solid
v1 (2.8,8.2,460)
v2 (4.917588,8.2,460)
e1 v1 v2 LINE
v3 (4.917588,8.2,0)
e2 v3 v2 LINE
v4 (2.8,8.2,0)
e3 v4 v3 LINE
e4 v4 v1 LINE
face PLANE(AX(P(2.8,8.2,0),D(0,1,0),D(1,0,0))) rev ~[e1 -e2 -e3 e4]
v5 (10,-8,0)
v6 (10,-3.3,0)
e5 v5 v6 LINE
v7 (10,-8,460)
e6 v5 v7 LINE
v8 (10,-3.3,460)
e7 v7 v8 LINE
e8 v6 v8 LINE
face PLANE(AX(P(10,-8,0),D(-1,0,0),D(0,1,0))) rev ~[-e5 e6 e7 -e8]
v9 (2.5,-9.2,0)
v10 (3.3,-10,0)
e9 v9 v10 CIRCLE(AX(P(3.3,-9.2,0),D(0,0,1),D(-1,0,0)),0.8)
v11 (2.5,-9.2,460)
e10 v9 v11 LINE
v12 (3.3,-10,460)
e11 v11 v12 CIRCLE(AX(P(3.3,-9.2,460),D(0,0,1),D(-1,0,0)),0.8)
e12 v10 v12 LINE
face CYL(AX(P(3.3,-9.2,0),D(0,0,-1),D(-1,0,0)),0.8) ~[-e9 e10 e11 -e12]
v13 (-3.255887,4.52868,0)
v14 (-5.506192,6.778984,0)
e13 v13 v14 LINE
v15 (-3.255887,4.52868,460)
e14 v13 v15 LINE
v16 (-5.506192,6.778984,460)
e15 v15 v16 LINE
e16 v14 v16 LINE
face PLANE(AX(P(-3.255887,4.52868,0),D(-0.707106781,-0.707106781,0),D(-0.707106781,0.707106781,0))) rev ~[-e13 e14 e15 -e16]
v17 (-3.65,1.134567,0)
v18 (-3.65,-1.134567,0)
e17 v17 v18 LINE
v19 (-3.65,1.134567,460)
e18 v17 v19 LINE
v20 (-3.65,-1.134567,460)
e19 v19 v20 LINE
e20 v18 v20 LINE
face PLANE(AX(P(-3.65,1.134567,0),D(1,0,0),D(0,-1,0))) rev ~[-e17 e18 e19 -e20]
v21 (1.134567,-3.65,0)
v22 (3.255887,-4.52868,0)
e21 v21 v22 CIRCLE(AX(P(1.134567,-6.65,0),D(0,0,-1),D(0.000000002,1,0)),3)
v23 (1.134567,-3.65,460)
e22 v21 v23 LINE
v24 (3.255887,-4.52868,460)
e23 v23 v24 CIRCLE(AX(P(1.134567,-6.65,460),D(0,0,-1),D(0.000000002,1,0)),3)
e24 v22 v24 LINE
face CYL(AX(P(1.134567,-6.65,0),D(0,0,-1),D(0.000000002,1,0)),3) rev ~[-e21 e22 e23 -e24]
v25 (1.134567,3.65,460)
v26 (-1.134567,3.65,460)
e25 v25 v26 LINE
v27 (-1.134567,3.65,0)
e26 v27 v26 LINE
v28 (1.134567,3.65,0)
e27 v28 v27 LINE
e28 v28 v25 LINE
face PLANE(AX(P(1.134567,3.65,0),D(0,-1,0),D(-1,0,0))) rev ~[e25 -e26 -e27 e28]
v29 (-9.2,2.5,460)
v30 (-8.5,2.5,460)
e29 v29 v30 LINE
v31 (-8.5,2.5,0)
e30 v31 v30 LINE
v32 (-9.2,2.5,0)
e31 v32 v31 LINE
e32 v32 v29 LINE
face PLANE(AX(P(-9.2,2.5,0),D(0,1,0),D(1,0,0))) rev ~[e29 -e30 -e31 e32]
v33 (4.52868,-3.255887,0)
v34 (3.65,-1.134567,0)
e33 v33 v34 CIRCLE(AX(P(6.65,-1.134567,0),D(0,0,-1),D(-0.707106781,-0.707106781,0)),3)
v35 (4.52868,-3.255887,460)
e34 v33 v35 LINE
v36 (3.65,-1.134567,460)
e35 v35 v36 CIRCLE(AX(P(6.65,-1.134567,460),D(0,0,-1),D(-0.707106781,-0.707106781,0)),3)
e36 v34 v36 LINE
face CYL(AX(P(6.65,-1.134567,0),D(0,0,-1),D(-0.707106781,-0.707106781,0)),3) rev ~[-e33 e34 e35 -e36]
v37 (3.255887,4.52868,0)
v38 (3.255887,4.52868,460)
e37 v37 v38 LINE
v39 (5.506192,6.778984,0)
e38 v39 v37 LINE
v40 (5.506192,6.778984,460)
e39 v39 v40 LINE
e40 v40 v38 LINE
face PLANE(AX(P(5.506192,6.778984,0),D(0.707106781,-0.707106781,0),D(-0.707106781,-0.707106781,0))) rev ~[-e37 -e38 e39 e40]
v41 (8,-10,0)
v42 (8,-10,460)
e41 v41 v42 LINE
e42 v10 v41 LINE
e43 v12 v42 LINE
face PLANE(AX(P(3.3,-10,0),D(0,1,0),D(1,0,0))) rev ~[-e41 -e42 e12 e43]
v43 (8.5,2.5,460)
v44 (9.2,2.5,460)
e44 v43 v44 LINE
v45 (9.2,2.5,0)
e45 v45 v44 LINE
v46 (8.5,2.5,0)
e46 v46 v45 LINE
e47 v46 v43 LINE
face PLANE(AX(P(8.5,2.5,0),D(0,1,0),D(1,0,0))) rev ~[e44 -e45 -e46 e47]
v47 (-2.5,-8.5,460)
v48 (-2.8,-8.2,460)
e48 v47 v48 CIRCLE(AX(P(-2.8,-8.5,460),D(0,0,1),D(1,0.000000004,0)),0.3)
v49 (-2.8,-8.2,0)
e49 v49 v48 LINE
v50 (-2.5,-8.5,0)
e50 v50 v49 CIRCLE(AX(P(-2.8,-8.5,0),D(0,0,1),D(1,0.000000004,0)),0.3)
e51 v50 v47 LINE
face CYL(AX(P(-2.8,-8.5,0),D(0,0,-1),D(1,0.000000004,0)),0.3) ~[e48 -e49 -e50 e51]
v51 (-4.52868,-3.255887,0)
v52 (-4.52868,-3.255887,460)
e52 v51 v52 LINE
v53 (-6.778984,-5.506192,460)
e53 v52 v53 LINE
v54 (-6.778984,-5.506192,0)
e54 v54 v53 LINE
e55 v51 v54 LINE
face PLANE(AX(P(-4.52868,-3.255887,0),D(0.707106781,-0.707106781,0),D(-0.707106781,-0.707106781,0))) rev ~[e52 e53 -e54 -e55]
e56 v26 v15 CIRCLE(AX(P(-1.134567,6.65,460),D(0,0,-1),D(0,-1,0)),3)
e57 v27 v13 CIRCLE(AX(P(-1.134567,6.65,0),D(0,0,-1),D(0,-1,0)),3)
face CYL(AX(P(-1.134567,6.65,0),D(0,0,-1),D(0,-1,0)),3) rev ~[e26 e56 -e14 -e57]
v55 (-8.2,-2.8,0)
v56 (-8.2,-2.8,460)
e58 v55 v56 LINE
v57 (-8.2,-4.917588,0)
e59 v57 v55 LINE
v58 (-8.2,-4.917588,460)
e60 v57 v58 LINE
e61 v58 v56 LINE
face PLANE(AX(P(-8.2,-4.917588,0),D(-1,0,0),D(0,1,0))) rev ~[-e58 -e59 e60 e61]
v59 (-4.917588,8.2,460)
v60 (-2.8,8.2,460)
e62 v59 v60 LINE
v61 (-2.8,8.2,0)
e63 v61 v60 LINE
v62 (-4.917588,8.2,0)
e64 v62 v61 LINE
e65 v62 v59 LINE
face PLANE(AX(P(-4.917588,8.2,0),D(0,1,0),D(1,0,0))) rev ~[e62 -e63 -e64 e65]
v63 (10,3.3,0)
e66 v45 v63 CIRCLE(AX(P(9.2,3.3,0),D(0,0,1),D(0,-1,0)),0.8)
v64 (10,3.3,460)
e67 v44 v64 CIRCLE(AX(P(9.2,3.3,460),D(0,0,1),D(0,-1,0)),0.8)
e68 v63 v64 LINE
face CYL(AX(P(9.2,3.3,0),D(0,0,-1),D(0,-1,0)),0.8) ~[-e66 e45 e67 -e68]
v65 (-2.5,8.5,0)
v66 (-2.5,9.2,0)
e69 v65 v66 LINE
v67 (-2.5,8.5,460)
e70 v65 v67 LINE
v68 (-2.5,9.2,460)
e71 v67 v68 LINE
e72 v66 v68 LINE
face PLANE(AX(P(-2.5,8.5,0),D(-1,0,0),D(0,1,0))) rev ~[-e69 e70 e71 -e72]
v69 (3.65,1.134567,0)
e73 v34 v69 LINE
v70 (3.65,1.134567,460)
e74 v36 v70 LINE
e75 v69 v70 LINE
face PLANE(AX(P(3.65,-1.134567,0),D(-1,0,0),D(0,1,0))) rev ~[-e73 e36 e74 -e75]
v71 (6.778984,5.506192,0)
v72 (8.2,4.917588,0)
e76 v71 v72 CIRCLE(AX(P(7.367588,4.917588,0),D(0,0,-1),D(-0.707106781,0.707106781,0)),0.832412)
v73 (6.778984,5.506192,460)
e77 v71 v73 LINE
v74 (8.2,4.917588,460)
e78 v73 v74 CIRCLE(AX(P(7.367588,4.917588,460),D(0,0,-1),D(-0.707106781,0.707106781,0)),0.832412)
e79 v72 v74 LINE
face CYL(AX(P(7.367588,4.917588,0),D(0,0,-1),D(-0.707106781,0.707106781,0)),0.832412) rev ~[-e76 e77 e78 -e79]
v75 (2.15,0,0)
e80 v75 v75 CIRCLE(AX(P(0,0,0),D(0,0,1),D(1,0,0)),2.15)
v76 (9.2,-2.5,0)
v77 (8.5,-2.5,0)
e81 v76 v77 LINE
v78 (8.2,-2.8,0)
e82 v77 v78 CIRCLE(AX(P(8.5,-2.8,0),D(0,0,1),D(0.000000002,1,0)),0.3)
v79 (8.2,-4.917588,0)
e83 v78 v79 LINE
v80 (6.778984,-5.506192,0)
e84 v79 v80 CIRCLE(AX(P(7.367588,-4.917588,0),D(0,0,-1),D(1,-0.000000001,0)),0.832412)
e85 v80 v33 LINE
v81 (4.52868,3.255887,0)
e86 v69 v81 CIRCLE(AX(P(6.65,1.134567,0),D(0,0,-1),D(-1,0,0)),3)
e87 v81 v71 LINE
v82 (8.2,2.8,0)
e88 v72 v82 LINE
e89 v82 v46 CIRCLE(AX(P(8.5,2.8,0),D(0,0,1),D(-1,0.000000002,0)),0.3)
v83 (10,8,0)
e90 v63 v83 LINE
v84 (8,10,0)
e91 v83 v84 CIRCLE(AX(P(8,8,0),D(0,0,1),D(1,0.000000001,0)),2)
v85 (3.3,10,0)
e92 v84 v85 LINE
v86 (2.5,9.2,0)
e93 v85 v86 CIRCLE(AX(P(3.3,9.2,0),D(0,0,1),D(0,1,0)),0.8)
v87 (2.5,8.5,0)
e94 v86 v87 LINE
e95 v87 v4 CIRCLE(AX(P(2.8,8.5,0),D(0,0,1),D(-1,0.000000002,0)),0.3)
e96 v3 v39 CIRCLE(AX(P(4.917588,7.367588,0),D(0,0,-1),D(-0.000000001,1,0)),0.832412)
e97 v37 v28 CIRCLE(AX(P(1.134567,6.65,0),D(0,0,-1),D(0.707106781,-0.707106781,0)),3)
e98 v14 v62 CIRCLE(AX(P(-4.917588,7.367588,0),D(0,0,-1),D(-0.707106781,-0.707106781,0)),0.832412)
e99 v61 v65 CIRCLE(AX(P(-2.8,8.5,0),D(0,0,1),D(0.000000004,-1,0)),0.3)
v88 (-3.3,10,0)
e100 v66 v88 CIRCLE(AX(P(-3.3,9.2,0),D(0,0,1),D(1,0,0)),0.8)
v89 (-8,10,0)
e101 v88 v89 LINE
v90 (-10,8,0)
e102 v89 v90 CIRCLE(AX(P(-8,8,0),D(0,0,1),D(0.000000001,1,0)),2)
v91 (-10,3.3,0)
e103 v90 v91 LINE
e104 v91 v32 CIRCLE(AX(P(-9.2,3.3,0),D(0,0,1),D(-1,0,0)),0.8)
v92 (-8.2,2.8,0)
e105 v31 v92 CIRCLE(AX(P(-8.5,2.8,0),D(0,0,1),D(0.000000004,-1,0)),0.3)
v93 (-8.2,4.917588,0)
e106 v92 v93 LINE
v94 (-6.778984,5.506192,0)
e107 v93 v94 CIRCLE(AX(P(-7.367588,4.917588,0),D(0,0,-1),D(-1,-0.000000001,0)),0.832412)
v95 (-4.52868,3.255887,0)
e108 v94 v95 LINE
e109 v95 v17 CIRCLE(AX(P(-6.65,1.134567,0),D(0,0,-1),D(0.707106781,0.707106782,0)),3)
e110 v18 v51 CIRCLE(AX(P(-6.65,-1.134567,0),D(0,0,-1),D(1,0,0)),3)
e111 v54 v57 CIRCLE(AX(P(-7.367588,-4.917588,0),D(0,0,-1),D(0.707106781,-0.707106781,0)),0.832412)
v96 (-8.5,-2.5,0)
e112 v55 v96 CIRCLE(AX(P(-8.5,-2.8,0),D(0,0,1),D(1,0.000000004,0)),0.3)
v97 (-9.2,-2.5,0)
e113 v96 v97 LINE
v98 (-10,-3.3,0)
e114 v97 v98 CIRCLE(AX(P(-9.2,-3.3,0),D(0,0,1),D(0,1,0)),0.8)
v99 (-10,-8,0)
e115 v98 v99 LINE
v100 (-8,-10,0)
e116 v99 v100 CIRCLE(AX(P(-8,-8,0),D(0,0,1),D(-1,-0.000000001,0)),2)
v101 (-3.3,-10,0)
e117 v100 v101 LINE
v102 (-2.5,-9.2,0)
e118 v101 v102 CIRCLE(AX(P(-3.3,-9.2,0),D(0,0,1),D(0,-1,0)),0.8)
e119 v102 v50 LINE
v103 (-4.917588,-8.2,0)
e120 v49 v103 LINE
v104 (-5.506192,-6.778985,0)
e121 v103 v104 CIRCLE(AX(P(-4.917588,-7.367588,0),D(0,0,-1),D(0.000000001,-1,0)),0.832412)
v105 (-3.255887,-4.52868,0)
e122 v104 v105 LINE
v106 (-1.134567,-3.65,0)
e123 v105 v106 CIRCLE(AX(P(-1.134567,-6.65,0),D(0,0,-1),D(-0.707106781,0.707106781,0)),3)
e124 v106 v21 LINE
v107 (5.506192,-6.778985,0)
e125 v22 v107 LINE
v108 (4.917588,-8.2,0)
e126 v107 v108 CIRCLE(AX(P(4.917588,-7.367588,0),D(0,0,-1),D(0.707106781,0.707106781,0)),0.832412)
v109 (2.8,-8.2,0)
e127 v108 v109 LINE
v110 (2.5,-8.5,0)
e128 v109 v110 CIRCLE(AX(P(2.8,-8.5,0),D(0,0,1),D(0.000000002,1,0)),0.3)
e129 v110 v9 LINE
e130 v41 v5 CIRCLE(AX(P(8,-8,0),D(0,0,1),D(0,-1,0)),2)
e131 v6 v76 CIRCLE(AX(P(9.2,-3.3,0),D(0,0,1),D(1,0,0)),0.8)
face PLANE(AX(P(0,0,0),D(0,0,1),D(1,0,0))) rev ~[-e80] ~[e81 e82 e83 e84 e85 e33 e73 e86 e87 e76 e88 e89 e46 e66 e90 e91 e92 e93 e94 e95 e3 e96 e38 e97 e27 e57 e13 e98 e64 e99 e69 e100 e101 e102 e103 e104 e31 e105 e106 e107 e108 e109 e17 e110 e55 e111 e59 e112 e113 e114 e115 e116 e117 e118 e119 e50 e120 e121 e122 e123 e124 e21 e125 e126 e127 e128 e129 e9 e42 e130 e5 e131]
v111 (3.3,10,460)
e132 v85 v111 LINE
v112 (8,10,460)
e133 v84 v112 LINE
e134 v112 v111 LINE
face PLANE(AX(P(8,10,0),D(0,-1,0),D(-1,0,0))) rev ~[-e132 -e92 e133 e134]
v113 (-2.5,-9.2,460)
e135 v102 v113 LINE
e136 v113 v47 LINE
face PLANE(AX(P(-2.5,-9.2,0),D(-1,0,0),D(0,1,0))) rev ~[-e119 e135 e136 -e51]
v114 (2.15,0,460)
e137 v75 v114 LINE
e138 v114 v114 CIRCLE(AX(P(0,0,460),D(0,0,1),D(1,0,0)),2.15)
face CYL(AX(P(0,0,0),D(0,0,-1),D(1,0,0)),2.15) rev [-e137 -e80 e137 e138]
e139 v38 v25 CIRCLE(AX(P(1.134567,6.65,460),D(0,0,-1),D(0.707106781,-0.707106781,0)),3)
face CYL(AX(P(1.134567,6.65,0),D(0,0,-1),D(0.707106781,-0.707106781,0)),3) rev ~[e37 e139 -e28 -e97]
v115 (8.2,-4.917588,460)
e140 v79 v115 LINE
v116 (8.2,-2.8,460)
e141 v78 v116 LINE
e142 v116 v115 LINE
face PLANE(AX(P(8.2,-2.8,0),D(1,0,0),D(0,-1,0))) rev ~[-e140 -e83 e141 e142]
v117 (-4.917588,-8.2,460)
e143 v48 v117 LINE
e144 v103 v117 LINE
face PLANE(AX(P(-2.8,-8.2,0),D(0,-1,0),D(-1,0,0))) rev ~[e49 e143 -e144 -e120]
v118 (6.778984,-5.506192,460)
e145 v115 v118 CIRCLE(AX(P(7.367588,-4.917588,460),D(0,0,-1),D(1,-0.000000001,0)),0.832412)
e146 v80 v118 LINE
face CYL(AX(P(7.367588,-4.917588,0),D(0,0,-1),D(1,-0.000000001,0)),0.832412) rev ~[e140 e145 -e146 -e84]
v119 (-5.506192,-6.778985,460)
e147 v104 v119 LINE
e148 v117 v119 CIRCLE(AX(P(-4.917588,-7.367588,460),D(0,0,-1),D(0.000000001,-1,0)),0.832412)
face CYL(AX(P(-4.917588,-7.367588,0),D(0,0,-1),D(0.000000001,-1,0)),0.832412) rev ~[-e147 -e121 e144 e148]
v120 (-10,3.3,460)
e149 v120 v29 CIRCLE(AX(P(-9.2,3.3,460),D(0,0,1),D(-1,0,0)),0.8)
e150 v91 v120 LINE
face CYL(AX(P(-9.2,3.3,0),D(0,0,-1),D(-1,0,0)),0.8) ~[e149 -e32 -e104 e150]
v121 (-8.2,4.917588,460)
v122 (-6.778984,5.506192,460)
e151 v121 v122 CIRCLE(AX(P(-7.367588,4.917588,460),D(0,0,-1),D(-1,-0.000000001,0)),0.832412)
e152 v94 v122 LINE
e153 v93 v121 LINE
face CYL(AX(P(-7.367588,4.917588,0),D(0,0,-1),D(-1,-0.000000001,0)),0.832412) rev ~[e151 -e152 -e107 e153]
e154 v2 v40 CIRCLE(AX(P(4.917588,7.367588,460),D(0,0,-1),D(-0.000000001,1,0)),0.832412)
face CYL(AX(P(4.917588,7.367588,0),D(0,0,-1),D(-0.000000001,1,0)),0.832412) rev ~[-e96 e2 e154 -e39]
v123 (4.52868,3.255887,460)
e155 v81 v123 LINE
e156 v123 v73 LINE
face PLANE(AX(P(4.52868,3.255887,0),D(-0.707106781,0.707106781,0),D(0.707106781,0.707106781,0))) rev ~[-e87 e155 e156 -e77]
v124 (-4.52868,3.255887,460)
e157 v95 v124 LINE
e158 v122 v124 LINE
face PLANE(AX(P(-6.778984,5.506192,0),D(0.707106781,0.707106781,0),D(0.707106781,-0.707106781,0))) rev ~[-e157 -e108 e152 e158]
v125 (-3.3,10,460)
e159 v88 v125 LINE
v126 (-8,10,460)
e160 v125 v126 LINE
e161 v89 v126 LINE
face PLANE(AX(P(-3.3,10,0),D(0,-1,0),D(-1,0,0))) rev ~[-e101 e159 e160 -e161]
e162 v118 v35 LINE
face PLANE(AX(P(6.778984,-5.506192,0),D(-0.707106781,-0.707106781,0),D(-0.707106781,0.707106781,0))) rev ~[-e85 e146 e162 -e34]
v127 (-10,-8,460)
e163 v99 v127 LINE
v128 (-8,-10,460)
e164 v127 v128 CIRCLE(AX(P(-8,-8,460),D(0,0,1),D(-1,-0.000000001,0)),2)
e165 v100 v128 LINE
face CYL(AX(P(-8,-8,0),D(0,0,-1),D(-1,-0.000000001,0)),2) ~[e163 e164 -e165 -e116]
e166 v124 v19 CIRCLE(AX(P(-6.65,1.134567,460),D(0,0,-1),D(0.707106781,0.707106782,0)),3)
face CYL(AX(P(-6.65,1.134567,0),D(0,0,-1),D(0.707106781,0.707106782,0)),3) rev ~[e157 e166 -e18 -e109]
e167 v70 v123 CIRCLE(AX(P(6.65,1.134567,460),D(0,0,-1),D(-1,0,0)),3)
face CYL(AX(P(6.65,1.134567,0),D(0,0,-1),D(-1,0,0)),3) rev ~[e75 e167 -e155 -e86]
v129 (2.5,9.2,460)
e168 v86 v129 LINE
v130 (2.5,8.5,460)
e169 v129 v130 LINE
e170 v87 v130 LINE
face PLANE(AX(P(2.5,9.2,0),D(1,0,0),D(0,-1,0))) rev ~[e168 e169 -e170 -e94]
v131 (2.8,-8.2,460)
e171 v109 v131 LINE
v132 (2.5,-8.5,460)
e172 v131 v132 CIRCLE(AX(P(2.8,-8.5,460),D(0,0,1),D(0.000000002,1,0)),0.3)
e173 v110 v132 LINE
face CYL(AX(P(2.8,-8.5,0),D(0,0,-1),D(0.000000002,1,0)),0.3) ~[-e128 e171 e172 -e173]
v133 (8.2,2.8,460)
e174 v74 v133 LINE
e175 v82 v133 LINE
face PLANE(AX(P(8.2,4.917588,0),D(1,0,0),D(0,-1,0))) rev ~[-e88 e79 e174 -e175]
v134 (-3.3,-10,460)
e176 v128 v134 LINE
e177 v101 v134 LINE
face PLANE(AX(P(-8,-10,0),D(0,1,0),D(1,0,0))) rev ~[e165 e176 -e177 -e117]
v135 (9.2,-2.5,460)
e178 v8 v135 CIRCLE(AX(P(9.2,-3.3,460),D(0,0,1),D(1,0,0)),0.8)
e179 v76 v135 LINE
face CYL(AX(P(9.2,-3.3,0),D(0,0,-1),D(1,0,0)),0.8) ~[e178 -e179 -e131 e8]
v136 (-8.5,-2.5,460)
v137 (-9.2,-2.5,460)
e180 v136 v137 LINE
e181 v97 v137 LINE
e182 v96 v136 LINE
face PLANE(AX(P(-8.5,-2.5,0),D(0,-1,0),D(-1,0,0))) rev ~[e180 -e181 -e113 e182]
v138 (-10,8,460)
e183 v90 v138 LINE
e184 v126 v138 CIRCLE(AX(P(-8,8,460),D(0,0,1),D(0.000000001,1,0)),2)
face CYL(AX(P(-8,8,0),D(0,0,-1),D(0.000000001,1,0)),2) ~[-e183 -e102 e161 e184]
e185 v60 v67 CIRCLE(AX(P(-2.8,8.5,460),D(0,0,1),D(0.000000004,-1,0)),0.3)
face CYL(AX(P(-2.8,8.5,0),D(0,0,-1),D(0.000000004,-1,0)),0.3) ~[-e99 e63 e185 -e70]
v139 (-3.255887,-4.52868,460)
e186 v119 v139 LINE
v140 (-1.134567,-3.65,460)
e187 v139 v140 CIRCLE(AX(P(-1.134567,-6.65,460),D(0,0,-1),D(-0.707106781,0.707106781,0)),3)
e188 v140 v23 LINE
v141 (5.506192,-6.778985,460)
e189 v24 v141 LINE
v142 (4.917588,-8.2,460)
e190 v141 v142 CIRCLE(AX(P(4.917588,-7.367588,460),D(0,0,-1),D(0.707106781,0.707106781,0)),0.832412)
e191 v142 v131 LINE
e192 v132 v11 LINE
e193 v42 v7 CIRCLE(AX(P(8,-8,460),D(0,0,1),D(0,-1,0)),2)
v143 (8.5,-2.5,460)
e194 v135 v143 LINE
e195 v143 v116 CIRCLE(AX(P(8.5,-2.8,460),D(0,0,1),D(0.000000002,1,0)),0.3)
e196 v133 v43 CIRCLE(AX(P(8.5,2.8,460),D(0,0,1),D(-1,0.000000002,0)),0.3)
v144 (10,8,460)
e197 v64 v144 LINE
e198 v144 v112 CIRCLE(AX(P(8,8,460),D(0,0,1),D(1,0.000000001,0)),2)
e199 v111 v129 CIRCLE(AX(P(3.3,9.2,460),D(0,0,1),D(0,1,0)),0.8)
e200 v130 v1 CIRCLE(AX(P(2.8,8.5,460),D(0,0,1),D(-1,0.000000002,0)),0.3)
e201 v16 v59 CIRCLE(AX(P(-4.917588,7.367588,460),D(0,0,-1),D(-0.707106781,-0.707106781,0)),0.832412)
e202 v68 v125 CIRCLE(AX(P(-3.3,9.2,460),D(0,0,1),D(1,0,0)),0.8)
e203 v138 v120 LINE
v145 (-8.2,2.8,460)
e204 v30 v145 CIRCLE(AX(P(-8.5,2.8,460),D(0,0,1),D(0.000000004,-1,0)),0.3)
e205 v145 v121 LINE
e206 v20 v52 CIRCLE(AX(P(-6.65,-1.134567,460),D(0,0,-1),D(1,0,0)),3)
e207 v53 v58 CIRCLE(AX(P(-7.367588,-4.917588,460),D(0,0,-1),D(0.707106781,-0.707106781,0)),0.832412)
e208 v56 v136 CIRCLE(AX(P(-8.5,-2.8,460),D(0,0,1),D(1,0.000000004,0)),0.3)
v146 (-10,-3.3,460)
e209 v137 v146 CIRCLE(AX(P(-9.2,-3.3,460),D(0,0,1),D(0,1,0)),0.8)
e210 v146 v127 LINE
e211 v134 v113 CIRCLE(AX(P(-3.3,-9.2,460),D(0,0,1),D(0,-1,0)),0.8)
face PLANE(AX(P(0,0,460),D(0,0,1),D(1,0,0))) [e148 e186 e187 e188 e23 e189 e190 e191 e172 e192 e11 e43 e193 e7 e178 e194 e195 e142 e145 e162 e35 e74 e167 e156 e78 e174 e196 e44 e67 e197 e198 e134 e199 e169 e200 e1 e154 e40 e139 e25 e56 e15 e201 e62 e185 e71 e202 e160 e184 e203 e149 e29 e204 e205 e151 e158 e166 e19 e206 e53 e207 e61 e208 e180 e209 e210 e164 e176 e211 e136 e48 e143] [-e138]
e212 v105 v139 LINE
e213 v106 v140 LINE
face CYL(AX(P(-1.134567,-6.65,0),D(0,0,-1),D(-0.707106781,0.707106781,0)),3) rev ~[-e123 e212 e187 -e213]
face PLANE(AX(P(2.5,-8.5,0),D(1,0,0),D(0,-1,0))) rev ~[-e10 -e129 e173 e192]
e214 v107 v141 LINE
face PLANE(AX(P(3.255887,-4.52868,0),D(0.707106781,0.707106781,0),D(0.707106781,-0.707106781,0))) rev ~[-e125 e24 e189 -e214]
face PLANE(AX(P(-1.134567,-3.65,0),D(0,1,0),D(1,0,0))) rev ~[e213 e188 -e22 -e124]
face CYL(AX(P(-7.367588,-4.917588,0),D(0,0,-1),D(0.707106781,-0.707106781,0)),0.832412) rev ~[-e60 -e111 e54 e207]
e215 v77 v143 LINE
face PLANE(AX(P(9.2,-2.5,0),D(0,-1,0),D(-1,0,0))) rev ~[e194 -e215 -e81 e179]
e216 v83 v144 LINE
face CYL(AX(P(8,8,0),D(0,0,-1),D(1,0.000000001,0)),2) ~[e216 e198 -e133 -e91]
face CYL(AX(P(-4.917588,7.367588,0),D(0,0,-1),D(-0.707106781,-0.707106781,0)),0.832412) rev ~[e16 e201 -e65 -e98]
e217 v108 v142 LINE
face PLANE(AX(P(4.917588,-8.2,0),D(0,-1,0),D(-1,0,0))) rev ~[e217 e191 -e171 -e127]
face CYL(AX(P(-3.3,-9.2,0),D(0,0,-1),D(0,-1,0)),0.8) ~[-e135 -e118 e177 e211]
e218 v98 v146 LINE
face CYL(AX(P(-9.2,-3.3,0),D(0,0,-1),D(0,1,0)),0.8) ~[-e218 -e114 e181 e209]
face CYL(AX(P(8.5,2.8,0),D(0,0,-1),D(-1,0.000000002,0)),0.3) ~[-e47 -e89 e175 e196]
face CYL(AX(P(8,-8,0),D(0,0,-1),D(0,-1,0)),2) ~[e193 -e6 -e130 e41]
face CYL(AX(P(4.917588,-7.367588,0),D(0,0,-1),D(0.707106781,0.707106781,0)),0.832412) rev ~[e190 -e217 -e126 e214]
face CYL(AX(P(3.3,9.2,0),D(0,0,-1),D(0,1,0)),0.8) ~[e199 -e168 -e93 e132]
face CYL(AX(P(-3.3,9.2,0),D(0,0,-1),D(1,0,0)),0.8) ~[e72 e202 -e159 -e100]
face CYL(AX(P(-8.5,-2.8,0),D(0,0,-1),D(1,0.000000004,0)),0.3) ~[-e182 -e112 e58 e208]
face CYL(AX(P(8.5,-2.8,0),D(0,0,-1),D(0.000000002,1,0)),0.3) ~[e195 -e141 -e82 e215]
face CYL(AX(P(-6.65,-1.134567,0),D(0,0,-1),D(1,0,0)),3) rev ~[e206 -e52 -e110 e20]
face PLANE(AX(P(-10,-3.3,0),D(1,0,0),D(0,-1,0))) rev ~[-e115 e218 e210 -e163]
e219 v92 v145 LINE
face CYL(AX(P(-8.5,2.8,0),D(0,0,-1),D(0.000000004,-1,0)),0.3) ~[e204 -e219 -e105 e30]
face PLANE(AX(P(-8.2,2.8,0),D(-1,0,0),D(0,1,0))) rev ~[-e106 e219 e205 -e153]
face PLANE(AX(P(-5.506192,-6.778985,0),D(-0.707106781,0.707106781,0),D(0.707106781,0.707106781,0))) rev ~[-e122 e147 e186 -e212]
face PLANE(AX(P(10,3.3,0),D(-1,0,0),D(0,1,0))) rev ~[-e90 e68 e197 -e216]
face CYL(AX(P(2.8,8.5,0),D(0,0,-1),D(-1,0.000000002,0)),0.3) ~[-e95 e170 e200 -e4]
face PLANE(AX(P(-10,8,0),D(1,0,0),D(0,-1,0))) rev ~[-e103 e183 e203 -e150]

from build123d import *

# Parameters (mm, degrees)
BOSS_EXTRU_1_DEPTH = 460


with BuildPart() as part:
    # Esquisse1 → Boss.-Extru.1 (new body)
    with BuildSketch(Plane.XY):
        with BuildLine():
            Line((-3.255887446, 4.528679645), (-5.506192286, 6.778984485))
            ThreePointArc((-5.506192286, 6.778984485), (-5.686636441, 7.686138511), (-4.917588391, 8.199999989))
            Line((-4.917588391, 8.199999989), (-2.799999991, 8.199999989))
            ThreePointArc((-2.799999991, 8.199999989), (-2.587867957, 8.287867955), (-2.499999991, 8.499999989))
            Line((-2.499999991, 8.499999989), (-2.499999991, 9.199999989))
            ThreePointArc((-2.499999991, 9.199999989), (-2.734314566, 9.765685414), (-3.299999991, 9.999999989))
            Line((-3.299999991, 9.999999989), (-7.999999991, 9.999999989))
            ThreePointArc((-7.999999991, 9.999999989), (-9.414213554, 9.414213552), (-9.999999991, 7.999999989))
            Line((-9.999999991, 7.999999989), (-9.999999991, 3.299999989))
            ThreePointArc((-9.999999991, 3.299999989), (-9.765685416, 2.734314564), (-9.199999991, 2.499999989))
            Line((-9.199999991, 2.499999989), (-8.499999991, 2.499999989))
            ThreePointArc((-8.499999991, 2.499999989), (-8.287867957, 2.587867955), (-8.199999991, 2.799999989))
            Line((-8.199999991, 2.799999989), (-8.199999991, 4.917588389))
            ThreePointArc((-8.199999991, 4.917588389), (-7.686138517, 5.686636433), (-6.778984497, 5.506192279))
            Line((-6.778984497, 5.506192279), (-4.528679657, 3.255887439))
            ThreePointArc((-4.528679657, 3.255887439), (-3.878361403, 2.282617393), (-3.650000001, 1.134567096))
            Line((-3.650000001, 1.134567096), (-3.650000001, -1.134567114))
            ThreePointArc((-3.650000001, -1.134567114), (-3.878361403, -2.282617409), (-4.528679656, -3.255887454))
            Line((-4.528679656, -3.255887454), (-6.778984496, -5.506192294))
            ThreePointArc((-6.778984496, -5.506192294), (-7.686138522, -5.686636449), (-8.2, -4.9175884))
            Line((-8.2, -4.9175884), (-8.2, -2.8))
            ThreePointArc((-8.2, -2.8), (-8.287867966, -2.587867966), (-8.5, -2.5))
            Line((-8.5, -2.5), (-9.2, -2.5))
            ThreePointArc((-9.2, -2.5), (-9.765685425, -2.734314575), (-10, -3.3))
            Line((-10, -3.3), (-10, -8))
            ThreePointArc((-10, -8), (-9.414213562, -9.414213562), (-8, -10))
            Line((-8, -10), (-3.3, -10))
            ThreePointArc((-3.3, -10), (-2.734314575, -9.765685425), (-2.5, -9.2))
            Line((-2.5, -9.2), (-2.5, -8.5))
            ThreePointArc((-2.5, -8.5), (-2.587867966, -8.287867966), (-2.8, -8.2))
            Line((-2.8, -8.2), (-4.9175884, -8.2))
            ThreePointArc((-4.9175884, -8.2), (-5.686636444, -7.686138526), (-5.50619229, -6.778984506))
            Line((-5.50619229, -6.778984506), (-3.25588745, -4.528679666))
            ThreePointArc((-3.25588745, -4.528679666), (-2.282617404, -3.878361412), (-1.134567106, -3.650000009))
            Line((-1.134567106, -3.650000009), (1.134567104, -3.650000009))
            ThreePointArc((1.134567104, -3.650000009), (2.282617399, -3.878361412), (3.255887444, -4.528679664))
            Line((3.255887444, -4.528679664), (5.506192284, -6.778984504))
            ThreePointArc((5.506192284, -6.778984504), (5.686636439, -7.686138531), (4.917588389, -8.200000009))
            Line((4.917588389, -8.200000009), (2.799999989, -8.200000009))
            ThreePointArc((2.799999989, -8.200000009), (2.587867955, -8.287867974), (2.499999989, -8.500000009))
            Line((2.499999989, -8.500000009), (2.499999989, -9.200000009))
            ThreePointArc((2.499999989, -9.200000009), (2.734314564, -9.765685434), (3.299999989, -10.000000009))
            Line((3.299999989, -10.000000009), (7.999999989, -10.000000009))
            ThreePointArc((7.999999989, -10.000000009), (9.414213552, -9.414213571), (9.999999989, -8.000000009))
            Line((9.999999989, -8.000000009), (9.999999989, -3.300000009))
            ThreePointArc((9.999999989, -3.300000009), (9.765685414, -2.734314584), (9.199999989, -2.500000009))
            Line((9.199999989, -2.500000009), (8.499999989, -2.500000009))
            ThreePointArc((8.499999989, -2.500000009), (8.287867955, -2.587867974), (8.199999989, -2.800000009))
            Line((8.199999989, -2.800000009), (8.199999989, -4.917588409))
            ThreePointArc((8.199999989, -4.917588409), (7.686138515, -5.686636452), (6.778984495, -5.506192299))
            Line((6.778984495, -5.506192299), (4.528679655, -3.255887459))
            ThreePointArc((4.528679655, -3.255887459), (3.878361401, -2.282617412), (3.649999999, -1.134567115))
            Line((3.649999999, -1.134567115), (3.649999999, 1.134567095))
            ThreePointArc((3.649999999, 1.134567095), (3.878361401, 2.28261739), (4.528679654, 3.255887435))
            Line((4.528679654, 3.255887435), (6.778984494, 5.506192275))
            ThreePointArc((6.778984494, 5.506192275), (7.68613852, 5.68663643), (8.199999998, 4.917588381))
            Line((8.199999998, 4.917588381), (8.199999998, 2.799999981))
            ThreePointArc((8.199999998, 2.799999981), (8.287867964, 2.587867946), (8.499999998, 2.499999981))
            Line((8.499999998, 2.499999981), (9.199999998, 2.499999981))
            ThreePointArc((9.199999998, 2.499999981), (9.765685423, 2.734314556), (9.999999998, 3.299999981))
            Line((9.999999998, 3.299999981), (9.999999998, 7.999999981))
            ThreePointArc((9.999999998, 7.999999981), (9.41421356, 9.414213543), (7.999999998, 9.999999981))
            Line((7.999999998, 9.999999981), (3.299999998, 9.999999981))
            ThreePointArc((3.299999998, 9.999999981), (2.734314573, 9.765685406), (2.499999998, 9.199999981))
            Line((2.499999998, 9.199999981), (2.499999998, 8.499999981))
            ThreePointArc((2.499999998, 8.499999981), (2.587867964, 8.287867946), (2.799999998, 8.199999981))
            Line((2.799999998, 8.199999981), (4.917588398, 8.199999981))
            ThreePointArc((4.917588398, 8.199999981), (5.686636442, 7.686138507), (5.506192288, 6.778984487))
            Line((5.506192288, 6.778984487), (3.255887448, 4.528679647))
            ThreePointArc((3.255887448, 4.528679647), (2.282617402, 3.878361393), (1.134567104, 3.64999999))
            Line((1.134567104, 3.64999999), (-1.134567106, 3.64999999))
            ThreePointArc((-1.134567106, 3.64999999), (-2.282617401, 3.878361392), (-3.255887446, 4.528679645))
        make_face()
        with BuildLine():
            ThreePointArc((-2.15, 0), (0, -2.15), (2.15, 0))
            ThreePointArc((2.15, 0), (0, 2.15), (-2.15, 0))
        make_face(mode=Mode.SUBTRACT)
    extrude(amount=BOSS_EXTRU_1_DEPTH)


solid = part.part
